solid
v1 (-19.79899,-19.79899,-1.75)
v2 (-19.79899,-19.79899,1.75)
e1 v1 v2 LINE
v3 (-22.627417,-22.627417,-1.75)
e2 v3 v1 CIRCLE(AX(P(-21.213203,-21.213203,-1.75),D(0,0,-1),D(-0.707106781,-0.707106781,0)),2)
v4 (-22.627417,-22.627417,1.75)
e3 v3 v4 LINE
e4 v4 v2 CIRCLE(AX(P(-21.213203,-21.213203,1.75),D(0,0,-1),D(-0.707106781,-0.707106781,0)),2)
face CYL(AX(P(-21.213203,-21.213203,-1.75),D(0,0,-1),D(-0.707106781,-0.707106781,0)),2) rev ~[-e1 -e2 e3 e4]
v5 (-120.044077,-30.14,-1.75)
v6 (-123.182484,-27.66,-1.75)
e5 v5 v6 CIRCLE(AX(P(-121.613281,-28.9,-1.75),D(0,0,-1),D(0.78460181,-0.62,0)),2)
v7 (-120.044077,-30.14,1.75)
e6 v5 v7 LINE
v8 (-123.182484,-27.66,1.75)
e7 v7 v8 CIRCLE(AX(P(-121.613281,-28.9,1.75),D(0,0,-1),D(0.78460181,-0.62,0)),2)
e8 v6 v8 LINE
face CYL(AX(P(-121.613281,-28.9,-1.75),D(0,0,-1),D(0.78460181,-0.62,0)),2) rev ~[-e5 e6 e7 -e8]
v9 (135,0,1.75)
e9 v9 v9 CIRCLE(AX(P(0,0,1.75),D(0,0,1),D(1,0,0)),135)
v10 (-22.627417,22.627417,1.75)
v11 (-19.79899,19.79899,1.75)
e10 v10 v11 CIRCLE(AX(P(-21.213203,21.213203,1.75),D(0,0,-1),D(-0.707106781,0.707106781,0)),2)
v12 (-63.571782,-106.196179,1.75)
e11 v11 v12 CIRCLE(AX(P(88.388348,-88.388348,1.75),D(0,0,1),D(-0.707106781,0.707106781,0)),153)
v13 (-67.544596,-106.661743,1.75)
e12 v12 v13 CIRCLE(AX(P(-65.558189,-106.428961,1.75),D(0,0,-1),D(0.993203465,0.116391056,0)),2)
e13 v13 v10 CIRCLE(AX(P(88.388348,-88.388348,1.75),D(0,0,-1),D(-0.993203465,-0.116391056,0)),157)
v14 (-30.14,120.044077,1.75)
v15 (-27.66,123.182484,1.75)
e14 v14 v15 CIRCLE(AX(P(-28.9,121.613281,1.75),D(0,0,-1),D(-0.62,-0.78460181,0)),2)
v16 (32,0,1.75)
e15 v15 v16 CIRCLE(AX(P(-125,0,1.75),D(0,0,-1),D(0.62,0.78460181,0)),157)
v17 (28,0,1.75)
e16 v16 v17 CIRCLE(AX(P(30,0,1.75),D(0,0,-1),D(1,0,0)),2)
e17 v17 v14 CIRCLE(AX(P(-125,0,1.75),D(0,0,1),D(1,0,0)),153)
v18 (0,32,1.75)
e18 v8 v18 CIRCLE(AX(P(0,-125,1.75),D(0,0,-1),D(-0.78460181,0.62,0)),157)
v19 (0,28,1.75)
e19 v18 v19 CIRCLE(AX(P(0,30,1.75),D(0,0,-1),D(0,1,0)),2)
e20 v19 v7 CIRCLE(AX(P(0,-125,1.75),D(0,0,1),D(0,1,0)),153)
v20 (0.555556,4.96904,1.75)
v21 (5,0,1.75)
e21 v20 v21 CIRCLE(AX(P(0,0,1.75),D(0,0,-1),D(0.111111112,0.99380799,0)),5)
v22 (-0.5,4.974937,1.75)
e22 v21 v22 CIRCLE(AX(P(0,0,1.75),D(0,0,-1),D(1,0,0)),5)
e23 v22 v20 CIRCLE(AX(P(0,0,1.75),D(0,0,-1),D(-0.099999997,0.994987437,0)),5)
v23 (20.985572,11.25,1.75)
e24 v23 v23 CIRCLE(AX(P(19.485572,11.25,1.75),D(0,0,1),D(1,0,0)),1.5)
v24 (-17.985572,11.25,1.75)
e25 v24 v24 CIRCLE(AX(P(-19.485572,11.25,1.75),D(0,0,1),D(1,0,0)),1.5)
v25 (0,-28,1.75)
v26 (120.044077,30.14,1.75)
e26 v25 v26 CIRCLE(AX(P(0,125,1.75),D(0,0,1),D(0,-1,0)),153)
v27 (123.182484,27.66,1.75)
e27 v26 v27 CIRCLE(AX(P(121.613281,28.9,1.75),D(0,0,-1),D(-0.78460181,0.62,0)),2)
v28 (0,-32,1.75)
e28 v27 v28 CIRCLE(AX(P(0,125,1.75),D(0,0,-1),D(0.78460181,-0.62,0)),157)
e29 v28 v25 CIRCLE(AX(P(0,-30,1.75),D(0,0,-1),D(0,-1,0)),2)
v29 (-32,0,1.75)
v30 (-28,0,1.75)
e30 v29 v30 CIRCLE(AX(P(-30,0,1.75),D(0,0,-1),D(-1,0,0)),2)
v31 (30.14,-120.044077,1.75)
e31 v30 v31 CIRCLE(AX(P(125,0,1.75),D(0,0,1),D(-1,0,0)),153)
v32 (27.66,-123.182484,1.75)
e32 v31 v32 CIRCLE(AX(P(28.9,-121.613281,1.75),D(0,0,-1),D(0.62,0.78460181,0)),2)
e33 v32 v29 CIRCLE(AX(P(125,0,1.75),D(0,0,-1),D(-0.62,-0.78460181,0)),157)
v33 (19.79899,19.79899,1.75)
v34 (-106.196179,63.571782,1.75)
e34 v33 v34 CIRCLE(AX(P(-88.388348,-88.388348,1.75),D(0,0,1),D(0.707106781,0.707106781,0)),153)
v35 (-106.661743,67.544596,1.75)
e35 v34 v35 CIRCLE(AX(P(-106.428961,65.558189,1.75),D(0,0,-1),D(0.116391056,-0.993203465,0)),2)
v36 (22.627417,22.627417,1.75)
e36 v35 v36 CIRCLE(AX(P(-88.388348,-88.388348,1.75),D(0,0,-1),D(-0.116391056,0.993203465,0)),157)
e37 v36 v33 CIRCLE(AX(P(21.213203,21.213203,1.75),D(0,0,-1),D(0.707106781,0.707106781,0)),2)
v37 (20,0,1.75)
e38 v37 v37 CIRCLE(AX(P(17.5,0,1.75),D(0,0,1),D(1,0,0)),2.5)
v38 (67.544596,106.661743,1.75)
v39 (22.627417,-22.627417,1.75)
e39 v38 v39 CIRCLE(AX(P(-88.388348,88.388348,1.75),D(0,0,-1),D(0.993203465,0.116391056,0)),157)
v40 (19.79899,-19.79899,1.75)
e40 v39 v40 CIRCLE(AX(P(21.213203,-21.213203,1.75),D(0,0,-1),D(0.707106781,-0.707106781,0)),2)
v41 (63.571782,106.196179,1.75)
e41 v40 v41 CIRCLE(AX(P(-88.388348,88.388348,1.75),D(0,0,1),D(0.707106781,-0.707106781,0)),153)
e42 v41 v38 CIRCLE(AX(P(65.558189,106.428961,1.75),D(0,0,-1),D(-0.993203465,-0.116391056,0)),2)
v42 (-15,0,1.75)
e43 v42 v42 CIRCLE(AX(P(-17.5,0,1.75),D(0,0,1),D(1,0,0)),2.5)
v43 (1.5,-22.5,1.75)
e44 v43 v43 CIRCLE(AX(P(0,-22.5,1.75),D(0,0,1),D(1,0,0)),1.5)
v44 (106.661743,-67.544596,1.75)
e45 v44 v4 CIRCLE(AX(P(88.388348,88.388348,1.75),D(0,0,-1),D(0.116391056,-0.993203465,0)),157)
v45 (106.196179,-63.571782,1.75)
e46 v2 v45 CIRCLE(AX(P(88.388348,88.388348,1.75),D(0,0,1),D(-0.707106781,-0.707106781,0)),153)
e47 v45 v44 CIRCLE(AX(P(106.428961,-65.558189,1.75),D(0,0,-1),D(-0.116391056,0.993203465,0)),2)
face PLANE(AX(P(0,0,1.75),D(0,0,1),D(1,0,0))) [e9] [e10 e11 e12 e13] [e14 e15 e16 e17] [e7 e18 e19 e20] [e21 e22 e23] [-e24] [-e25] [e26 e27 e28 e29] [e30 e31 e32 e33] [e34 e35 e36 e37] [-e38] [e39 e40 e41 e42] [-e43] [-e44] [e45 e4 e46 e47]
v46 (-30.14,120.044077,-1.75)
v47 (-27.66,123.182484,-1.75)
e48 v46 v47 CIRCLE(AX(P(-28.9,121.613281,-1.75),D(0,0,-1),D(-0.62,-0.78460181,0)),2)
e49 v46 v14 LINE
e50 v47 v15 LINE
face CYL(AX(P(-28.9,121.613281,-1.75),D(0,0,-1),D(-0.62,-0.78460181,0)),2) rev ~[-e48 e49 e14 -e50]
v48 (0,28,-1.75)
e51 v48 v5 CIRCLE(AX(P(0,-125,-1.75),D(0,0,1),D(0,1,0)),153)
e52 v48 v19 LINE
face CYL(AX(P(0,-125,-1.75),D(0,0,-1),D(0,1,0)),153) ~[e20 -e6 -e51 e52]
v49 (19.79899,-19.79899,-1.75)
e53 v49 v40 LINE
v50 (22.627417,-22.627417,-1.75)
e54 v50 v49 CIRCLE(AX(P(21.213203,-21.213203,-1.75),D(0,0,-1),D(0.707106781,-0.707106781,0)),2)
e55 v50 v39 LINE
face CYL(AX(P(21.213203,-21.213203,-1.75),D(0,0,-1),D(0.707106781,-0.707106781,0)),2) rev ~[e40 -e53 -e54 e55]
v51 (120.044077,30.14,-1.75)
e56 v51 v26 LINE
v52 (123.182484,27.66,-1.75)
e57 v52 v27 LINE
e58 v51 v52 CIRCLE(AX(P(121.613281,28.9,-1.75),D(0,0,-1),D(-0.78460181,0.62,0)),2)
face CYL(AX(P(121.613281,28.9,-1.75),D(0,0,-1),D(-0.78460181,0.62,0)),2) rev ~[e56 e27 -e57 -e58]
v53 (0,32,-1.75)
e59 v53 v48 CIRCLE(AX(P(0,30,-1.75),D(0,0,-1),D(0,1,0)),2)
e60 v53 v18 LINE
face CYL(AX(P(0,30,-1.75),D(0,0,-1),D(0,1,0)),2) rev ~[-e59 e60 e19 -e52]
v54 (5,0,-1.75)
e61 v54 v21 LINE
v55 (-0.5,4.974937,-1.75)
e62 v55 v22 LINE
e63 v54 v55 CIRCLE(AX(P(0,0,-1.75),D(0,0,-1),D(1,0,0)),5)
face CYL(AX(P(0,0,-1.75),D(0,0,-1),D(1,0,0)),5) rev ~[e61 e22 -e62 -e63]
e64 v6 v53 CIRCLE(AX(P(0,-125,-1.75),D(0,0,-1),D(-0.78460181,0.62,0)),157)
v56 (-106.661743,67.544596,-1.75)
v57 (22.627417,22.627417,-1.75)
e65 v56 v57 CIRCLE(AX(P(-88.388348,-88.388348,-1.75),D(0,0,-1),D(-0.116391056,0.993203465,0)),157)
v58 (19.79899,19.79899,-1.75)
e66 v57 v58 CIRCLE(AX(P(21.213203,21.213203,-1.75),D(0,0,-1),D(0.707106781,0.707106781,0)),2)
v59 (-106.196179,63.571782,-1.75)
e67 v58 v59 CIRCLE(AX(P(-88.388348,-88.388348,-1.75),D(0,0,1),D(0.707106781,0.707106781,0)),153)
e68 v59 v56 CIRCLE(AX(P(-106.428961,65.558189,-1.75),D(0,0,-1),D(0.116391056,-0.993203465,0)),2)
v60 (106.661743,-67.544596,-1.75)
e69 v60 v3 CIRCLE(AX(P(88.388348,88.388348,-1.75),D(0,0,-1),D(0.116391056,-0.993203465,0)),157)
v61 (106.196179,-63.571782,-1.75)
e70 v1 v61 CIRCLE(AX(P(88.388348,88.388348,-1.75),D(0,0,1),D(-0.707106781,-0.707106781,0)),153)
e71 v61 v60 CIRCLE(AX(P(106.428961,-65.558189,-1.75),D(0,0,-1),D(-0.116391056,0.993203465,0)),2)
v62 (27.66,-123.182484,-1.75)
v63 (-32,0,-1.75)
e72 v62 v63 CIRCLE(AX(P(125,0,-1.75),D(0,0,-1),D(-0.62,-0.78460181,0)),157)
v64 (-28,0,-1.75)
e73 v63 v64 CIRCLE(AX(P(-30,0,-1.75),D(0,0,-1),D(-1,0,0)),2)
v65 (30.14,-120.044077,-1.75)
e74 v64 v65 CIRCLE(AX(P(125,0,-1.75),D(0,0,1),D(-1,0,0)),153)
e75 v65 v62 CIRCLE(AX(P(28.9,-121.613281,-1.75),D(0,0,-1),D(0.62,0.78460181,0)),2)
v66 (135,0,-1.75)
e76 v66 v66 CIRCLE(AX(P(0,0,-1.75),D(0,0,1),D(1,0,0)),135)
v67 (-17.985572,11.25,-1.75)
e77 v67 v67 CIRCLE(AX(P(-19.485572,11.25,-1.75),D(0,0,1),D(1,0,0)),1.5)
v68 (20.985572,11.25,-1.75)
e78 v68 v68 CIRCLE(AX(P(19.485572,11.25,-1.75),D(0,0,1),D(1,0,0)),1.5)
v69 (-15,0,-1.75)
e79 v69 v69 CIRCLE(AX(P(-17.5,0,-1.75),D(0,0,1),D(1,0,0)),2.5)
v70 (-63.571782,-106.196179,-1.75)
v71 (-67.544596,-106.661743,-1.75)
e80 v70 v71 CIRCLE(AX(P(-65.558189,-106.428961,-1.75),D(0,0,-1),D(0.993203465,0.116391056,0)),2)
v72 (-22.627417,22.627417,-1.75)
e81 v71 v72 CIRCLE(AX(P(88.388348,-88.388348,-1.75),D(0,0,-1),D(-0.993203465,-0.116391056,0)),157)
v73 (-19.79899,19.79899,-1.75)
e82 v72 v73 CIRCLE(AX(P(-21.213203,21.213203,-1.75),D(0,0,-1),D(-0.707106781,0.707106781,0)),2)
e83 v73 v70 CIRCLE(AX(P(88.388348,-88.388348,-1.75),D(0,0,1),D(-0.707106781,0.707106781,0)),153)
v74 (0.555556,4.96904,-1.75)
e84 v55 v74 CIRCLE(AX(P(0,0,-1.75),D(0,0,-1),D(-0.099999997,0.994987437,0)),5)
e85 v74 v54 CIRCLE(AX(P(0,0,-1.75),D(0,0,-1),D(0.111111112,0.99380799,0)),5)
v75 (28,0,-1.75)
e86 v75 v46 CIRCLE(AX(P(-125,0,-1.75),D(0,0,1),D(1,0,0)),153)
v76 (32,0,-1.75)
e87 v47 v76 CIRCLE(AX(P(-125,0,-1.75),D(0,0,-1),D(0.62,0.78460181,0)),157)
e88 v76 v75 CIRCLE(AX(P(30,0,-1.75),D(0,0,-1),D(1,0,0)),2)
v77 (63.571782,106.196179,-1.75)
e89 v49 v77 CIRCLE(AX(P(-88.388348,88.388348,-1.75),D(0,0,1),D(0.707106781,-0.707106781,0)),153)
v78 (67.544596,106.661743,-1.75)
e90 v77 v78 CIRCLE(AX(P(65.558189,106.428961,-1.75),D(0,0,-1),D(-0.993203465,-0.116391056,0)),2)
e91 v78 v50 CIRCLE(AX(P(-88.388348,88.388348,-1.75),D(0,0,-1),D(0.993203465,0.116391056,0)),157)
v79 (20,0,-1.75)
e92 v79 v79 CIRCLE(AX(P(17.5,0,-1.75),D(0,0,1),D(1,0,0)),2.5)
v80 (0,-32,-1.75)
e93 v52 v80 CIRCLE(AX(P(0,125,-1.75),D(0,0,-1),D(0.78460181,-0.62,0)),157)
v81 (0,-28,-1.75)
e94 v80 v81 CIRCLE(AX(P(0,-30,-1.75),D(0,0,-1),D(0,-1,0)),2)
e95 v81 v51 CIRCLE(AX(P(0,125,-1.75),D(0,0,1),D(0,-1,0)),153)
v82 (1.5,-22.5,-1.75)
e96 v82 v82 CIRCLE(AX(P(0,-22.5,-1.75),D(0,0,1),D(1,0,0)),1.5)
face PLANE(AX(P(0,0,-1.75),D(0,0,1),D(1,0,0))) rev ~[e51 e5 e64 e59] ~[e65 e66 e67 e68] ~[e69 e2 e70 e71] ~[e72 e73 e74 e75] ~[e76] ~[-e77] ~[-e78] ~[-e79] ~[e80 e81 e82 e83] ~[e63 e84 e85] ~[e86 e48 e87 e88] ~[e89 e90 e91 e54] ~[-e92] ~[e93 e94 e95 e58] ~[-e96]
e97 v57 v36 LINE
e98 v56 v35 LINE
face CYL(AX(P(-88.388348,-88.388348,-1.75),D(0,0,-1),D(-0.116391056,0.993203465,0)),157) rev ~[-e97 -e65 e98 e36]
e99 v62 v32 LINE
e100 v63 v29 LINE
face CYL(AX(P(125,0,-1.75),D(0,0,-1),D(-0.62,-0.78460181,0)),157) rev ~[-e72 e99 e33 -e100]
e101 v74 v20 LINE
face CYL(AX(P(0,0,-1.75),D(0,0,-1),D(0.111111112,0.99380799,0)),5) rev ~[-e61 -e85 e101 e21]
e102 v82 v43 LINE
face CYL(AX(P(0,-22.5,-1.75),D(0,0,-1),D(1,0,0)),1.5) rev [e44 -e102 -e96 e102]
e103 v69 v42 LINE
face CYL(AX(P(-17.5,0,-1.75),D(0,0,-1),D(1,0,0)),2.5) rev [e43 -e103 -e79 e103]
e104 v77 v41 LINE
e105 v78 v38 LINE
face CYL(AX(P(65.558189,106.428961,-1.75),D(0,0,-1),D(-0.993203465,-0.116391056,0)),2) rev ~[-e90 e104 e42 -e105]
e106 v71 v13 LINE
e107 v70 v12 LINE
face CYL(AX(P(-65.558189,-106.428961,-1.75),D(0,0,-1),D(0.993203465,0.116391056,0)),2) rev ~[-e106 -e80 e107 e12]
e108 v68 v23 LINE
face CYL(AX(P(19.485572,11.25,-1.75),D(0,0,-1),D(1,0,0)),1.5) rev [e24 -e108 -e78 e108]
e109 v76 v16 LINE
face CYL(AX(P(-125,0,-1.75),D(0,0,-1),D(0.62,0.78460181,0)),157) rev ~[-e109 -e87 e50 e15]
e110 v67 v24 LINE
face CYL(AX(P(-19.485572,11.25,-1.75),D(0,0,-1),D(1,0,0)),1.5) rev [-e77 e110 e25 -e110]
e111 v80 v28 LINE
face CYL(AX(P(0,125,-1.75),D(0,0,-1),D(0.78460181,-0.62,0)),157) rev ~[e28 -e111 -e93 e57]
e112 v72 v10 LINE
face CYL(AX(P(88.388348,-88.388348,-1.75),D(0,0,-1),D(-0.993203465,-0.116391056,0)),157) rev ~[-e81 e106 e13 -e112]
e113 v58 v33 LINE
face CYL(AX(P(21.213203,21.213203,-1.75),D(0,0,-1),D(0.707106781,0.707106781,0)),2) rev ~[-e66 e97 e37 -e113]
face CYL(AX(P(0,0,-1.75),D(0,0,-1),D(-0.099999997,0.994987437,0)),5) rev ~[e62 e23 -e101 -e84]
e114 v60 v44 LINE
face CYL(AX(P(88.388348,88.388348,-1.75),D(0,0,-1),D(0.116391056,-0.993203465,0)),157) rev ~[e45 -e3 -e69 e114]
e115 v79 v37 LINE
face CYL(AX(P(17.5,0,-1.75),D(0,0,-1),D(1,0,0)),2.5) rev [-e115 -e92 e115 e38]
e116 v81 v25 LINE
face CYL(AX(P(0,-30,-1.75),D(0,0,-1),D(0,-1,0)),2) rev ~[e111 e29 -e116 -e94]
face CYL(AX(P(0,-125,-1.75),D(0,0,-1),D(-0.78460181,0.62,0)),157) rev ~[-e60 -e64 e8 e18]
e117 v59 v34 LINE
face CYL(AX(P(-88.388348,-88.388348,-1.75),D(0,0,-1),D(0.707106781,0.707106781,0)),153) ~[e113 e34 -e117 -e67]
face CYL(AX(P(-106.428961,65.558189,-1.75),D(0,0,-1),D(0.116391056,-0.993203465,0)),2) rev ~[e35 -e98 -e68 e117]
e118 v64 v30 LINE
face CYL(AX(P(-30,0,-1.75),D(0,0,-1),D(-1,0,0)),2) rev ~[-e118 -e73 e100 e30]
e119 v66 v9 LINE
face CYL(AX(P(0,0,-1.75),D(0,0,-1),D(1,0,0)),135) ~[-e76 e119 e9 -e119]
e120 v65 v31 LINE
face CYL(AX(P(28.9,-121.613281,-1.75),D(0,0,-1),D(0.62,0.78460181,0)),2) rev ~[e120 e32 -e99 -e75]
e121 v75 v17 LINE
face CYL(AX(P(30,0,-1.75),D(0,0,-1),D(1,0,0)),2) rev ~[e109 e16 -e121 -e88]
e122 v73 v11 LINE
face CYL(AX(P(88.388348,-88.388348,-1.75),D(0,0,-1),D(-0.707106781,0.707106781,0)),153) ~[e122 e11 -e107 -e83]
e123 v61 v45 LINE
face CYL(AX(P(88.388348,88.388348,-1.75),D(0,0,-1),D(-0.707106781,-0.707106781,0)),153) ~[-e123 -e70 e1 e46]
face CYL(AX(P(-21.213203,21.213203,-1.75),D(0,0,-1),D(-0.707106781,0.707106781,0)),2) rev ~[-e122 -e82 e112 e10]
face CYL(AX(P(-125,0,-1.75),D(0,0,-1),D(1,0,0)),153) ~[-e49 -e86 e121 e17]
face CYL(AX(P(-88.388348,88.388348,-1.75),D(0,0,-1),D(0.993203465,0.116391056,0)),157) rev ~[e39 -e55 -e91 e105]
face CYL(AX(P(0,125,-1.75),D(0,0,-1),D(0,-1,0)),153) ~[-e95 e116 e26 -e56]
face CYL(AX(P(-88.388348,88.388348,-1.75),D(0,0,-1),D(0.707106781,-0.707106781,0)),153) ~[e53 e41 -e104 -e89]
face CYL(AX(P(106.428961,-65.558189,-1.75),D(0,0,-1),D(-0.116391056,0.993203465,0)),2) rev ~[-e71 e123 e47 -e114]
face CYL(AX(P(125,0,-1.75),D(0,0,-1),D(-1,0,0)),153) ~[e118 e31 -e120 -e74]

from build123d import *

# Parameters (mm, degrees)
BOSS_EXTRUDE1_DEPTH      = 1.75
BOSS_EXTRUDE1_DEPTH_BACK = 1.75
SKETCH1_R                = 135
SKETCH1_R_2              = 1.5
SKETCH1_R_3              = 2.5


with BuildPart() as part:
    # Sketch1 → Boss-Extrude1 (new, two sides: drawn at the far end of the back side and taken through both)
    with BuildSketch(Plane.XY.offset(-BOSS_EXTRUDE1_DEPTH_BACK)):
        Circle(SKETCH1_R)
        with BuildLine():
            ThreePointArc((-67.544596294, -106.66174343), (-59.916490457, -36.86480939), (-22.627416998, 22.627416998))
            ThreePointArc((-22.627416998, 22.627416998), (-19.798989873, 22.627416998), (-19.798989873, 19.798989873))
            ThreePointArc((-19.798989873, 19.798989873), (-56.138023244, -38.177511002), (-63.571782436, -106.196179206))
            ThreePointArc((-63.571782436, -106.196179206), (-65.325407253, -108.415368247), (-67.544596294, -106.66174343))
        make_face(mode=Mode.SUBTRACT)
        with BuildLine():
            ThreePointArc((27.66, -123.182484144), (-16.3, -68.434713414), (-32, 0))
            ThreePointArc((-32, 0), (-30, 2), (-28, 0))
            ThreePointArc((-28, 0), (-12.7, -66.691153836), (30.14, -120.044076905))
            ThreePointArc((30.14, -120.044076905), (30.46920362, -122.853280525), (27.66, -123.182484144))
        make_face(mode=Mode.SUBTRACT)
        with BuildLine():
            ThreePointArc((106.66174343, -67.544596294), (36.86480939, -59.916490457), (-22.627416998, -22.627416998))
            ThreePointArc((-22.627416998, -22.627416998), (-22.627416998, -19.798989873), (-19.798989873, -19.798989873))
            ThreePointArc((-19.798989873, -19.798989873), (38.177511002, -56.138023244), (106.196179206, -63.571782436))
            ThreePointArc((106.196179206, -63.571782436), (108.415368247, -65.325407253), (106.66174343, -67.544596294))
        make_face(mode=Mode.SUBTRACT)
        with Locations((0, -22.5)):
            Circle(SKETCH1_R_2, mode=Mode.SUBTRACT)
        with Locations((17.5, 0)):
            Circle(SKETCH1_R_3, mode=Mode.SUBTRACT)
        with BuildLine():
            ThreePointArc((123.182484144, 27.66), (68.434713414, -16.3), (0, -32))
            ThreePointArc((0, -32), (-2, -30), (0, -28))
            ThreePointArc((0, -28), (66.691153836, -12.7), (120.044076905, 30.14))
            ThreePointArc((120.044076905, 30.14), (122.853280525, 30.46920362), (123.182484144, 27.66))
        make_face(mode=Mode.SUBTRACT)
        with BuildLine():
            ThreePointArc((-123.182484144, -27.66), (-68.434713414, 16.3), (0, 32))
            ThreePointArc((0, 32), (2, 30), (0, 28))
            ThreePointArc((0, 28), (-66.691153836, 12.7), (-120.044076905, -30.14))
            ThreePointArc((-120.044076905, -30.14), (-122.853280525, -30.46920362), (-123.182484144, -27.66))
        make_face(mode=Mode.SUBTRACT)
        with Locations((-17.5, 0)):
            Circle(SKETCH1_R_3, mode=Mode.SUBTRACT)
        with Locations((-19.485571585, 11.25)):
            Circle(SKETCH1_R_2, mode=Mode.SUBTRACT)
        with BuildLine():
            ThreePointArc((-106.66174343, 67.544596294), (-36.86480939, 59.916490457), (22.627416998, 22.627416998))
            ThreePointArc((22.627416998, 22.627416998), (22.627416998, 19.798989873), (19.798989873, 19.798989873))
            ThreePointArc((19.798989873, 19.798989873), (-38.177511002, 56.138023244), (-106.196179206, 63.571782436))
            ThreePointArc((-106.196179206, 63.571782436), (-108.415368247, 65.325407253), (-106.66174343, 67.544596294))
        make_face(mode=Mode.SUBTRACT)
        with BuildLine():
            ThreePointArc((0.555555556, 4.96903995), (3.726779962, 3.333333333), (5, 0))
            ThreePointArc((5, 0), (-3.354101966, -3.708099244), (-0.5, 4.974937186))
            ThreePointArc((-0.5, 4.974937186), (0.027933838, 4.999921969), (0.555555556, 4.96903995))
        make_face(mode=Mode.SUBTRACT)
        with Locations((19.485571585, 11.25)):
            Circle(SKETCH1_R_2, mode=Mode.SUBTRACT)
        with BuildLine():
            ThreePointArc((-27.66, 123.182484144), (16.3, 68.434713414), (32, 0))
            ThreePointArc((32, 0), (30, -2), (28, 0))
            ThreePointArc((28, 0), (12.7, 66.691153836), (-30.14, 120.044076905))
            ThreePointArc((-30.14, 120.044076905), (-30.46920362, 122.853280525), (-27.66, 123.182484144))
        make_face(mode=Mode.SUBTRACT)
        with BuildLine():
            ThreePointArc((67.544596294, 106.66174343), (59.916490457, 36.86480939), (22.627416998, -22.627416998))
            ThreePointArc((22.627416998, -22.627416998), (19.798989873, -22.627416998), (19.798989873, -19.798989873))
            ThreePointArc((19.798989873, -19.798989873), (56.138023244, 38.177511002), (63.571782436, 106.196179206))
            ThreePointArc((63.571782436, 106.196179206), (65.325407253, 108.415368247), (67.544596294, 106.66174343))
        make_face(mode=Mode.SUBTRACT)
    extrude(amount=BOSS_EXTRUDE1_DEPTH + BOSS_EXTRUDE1_DEPTH_BACK)


solid = part.part
